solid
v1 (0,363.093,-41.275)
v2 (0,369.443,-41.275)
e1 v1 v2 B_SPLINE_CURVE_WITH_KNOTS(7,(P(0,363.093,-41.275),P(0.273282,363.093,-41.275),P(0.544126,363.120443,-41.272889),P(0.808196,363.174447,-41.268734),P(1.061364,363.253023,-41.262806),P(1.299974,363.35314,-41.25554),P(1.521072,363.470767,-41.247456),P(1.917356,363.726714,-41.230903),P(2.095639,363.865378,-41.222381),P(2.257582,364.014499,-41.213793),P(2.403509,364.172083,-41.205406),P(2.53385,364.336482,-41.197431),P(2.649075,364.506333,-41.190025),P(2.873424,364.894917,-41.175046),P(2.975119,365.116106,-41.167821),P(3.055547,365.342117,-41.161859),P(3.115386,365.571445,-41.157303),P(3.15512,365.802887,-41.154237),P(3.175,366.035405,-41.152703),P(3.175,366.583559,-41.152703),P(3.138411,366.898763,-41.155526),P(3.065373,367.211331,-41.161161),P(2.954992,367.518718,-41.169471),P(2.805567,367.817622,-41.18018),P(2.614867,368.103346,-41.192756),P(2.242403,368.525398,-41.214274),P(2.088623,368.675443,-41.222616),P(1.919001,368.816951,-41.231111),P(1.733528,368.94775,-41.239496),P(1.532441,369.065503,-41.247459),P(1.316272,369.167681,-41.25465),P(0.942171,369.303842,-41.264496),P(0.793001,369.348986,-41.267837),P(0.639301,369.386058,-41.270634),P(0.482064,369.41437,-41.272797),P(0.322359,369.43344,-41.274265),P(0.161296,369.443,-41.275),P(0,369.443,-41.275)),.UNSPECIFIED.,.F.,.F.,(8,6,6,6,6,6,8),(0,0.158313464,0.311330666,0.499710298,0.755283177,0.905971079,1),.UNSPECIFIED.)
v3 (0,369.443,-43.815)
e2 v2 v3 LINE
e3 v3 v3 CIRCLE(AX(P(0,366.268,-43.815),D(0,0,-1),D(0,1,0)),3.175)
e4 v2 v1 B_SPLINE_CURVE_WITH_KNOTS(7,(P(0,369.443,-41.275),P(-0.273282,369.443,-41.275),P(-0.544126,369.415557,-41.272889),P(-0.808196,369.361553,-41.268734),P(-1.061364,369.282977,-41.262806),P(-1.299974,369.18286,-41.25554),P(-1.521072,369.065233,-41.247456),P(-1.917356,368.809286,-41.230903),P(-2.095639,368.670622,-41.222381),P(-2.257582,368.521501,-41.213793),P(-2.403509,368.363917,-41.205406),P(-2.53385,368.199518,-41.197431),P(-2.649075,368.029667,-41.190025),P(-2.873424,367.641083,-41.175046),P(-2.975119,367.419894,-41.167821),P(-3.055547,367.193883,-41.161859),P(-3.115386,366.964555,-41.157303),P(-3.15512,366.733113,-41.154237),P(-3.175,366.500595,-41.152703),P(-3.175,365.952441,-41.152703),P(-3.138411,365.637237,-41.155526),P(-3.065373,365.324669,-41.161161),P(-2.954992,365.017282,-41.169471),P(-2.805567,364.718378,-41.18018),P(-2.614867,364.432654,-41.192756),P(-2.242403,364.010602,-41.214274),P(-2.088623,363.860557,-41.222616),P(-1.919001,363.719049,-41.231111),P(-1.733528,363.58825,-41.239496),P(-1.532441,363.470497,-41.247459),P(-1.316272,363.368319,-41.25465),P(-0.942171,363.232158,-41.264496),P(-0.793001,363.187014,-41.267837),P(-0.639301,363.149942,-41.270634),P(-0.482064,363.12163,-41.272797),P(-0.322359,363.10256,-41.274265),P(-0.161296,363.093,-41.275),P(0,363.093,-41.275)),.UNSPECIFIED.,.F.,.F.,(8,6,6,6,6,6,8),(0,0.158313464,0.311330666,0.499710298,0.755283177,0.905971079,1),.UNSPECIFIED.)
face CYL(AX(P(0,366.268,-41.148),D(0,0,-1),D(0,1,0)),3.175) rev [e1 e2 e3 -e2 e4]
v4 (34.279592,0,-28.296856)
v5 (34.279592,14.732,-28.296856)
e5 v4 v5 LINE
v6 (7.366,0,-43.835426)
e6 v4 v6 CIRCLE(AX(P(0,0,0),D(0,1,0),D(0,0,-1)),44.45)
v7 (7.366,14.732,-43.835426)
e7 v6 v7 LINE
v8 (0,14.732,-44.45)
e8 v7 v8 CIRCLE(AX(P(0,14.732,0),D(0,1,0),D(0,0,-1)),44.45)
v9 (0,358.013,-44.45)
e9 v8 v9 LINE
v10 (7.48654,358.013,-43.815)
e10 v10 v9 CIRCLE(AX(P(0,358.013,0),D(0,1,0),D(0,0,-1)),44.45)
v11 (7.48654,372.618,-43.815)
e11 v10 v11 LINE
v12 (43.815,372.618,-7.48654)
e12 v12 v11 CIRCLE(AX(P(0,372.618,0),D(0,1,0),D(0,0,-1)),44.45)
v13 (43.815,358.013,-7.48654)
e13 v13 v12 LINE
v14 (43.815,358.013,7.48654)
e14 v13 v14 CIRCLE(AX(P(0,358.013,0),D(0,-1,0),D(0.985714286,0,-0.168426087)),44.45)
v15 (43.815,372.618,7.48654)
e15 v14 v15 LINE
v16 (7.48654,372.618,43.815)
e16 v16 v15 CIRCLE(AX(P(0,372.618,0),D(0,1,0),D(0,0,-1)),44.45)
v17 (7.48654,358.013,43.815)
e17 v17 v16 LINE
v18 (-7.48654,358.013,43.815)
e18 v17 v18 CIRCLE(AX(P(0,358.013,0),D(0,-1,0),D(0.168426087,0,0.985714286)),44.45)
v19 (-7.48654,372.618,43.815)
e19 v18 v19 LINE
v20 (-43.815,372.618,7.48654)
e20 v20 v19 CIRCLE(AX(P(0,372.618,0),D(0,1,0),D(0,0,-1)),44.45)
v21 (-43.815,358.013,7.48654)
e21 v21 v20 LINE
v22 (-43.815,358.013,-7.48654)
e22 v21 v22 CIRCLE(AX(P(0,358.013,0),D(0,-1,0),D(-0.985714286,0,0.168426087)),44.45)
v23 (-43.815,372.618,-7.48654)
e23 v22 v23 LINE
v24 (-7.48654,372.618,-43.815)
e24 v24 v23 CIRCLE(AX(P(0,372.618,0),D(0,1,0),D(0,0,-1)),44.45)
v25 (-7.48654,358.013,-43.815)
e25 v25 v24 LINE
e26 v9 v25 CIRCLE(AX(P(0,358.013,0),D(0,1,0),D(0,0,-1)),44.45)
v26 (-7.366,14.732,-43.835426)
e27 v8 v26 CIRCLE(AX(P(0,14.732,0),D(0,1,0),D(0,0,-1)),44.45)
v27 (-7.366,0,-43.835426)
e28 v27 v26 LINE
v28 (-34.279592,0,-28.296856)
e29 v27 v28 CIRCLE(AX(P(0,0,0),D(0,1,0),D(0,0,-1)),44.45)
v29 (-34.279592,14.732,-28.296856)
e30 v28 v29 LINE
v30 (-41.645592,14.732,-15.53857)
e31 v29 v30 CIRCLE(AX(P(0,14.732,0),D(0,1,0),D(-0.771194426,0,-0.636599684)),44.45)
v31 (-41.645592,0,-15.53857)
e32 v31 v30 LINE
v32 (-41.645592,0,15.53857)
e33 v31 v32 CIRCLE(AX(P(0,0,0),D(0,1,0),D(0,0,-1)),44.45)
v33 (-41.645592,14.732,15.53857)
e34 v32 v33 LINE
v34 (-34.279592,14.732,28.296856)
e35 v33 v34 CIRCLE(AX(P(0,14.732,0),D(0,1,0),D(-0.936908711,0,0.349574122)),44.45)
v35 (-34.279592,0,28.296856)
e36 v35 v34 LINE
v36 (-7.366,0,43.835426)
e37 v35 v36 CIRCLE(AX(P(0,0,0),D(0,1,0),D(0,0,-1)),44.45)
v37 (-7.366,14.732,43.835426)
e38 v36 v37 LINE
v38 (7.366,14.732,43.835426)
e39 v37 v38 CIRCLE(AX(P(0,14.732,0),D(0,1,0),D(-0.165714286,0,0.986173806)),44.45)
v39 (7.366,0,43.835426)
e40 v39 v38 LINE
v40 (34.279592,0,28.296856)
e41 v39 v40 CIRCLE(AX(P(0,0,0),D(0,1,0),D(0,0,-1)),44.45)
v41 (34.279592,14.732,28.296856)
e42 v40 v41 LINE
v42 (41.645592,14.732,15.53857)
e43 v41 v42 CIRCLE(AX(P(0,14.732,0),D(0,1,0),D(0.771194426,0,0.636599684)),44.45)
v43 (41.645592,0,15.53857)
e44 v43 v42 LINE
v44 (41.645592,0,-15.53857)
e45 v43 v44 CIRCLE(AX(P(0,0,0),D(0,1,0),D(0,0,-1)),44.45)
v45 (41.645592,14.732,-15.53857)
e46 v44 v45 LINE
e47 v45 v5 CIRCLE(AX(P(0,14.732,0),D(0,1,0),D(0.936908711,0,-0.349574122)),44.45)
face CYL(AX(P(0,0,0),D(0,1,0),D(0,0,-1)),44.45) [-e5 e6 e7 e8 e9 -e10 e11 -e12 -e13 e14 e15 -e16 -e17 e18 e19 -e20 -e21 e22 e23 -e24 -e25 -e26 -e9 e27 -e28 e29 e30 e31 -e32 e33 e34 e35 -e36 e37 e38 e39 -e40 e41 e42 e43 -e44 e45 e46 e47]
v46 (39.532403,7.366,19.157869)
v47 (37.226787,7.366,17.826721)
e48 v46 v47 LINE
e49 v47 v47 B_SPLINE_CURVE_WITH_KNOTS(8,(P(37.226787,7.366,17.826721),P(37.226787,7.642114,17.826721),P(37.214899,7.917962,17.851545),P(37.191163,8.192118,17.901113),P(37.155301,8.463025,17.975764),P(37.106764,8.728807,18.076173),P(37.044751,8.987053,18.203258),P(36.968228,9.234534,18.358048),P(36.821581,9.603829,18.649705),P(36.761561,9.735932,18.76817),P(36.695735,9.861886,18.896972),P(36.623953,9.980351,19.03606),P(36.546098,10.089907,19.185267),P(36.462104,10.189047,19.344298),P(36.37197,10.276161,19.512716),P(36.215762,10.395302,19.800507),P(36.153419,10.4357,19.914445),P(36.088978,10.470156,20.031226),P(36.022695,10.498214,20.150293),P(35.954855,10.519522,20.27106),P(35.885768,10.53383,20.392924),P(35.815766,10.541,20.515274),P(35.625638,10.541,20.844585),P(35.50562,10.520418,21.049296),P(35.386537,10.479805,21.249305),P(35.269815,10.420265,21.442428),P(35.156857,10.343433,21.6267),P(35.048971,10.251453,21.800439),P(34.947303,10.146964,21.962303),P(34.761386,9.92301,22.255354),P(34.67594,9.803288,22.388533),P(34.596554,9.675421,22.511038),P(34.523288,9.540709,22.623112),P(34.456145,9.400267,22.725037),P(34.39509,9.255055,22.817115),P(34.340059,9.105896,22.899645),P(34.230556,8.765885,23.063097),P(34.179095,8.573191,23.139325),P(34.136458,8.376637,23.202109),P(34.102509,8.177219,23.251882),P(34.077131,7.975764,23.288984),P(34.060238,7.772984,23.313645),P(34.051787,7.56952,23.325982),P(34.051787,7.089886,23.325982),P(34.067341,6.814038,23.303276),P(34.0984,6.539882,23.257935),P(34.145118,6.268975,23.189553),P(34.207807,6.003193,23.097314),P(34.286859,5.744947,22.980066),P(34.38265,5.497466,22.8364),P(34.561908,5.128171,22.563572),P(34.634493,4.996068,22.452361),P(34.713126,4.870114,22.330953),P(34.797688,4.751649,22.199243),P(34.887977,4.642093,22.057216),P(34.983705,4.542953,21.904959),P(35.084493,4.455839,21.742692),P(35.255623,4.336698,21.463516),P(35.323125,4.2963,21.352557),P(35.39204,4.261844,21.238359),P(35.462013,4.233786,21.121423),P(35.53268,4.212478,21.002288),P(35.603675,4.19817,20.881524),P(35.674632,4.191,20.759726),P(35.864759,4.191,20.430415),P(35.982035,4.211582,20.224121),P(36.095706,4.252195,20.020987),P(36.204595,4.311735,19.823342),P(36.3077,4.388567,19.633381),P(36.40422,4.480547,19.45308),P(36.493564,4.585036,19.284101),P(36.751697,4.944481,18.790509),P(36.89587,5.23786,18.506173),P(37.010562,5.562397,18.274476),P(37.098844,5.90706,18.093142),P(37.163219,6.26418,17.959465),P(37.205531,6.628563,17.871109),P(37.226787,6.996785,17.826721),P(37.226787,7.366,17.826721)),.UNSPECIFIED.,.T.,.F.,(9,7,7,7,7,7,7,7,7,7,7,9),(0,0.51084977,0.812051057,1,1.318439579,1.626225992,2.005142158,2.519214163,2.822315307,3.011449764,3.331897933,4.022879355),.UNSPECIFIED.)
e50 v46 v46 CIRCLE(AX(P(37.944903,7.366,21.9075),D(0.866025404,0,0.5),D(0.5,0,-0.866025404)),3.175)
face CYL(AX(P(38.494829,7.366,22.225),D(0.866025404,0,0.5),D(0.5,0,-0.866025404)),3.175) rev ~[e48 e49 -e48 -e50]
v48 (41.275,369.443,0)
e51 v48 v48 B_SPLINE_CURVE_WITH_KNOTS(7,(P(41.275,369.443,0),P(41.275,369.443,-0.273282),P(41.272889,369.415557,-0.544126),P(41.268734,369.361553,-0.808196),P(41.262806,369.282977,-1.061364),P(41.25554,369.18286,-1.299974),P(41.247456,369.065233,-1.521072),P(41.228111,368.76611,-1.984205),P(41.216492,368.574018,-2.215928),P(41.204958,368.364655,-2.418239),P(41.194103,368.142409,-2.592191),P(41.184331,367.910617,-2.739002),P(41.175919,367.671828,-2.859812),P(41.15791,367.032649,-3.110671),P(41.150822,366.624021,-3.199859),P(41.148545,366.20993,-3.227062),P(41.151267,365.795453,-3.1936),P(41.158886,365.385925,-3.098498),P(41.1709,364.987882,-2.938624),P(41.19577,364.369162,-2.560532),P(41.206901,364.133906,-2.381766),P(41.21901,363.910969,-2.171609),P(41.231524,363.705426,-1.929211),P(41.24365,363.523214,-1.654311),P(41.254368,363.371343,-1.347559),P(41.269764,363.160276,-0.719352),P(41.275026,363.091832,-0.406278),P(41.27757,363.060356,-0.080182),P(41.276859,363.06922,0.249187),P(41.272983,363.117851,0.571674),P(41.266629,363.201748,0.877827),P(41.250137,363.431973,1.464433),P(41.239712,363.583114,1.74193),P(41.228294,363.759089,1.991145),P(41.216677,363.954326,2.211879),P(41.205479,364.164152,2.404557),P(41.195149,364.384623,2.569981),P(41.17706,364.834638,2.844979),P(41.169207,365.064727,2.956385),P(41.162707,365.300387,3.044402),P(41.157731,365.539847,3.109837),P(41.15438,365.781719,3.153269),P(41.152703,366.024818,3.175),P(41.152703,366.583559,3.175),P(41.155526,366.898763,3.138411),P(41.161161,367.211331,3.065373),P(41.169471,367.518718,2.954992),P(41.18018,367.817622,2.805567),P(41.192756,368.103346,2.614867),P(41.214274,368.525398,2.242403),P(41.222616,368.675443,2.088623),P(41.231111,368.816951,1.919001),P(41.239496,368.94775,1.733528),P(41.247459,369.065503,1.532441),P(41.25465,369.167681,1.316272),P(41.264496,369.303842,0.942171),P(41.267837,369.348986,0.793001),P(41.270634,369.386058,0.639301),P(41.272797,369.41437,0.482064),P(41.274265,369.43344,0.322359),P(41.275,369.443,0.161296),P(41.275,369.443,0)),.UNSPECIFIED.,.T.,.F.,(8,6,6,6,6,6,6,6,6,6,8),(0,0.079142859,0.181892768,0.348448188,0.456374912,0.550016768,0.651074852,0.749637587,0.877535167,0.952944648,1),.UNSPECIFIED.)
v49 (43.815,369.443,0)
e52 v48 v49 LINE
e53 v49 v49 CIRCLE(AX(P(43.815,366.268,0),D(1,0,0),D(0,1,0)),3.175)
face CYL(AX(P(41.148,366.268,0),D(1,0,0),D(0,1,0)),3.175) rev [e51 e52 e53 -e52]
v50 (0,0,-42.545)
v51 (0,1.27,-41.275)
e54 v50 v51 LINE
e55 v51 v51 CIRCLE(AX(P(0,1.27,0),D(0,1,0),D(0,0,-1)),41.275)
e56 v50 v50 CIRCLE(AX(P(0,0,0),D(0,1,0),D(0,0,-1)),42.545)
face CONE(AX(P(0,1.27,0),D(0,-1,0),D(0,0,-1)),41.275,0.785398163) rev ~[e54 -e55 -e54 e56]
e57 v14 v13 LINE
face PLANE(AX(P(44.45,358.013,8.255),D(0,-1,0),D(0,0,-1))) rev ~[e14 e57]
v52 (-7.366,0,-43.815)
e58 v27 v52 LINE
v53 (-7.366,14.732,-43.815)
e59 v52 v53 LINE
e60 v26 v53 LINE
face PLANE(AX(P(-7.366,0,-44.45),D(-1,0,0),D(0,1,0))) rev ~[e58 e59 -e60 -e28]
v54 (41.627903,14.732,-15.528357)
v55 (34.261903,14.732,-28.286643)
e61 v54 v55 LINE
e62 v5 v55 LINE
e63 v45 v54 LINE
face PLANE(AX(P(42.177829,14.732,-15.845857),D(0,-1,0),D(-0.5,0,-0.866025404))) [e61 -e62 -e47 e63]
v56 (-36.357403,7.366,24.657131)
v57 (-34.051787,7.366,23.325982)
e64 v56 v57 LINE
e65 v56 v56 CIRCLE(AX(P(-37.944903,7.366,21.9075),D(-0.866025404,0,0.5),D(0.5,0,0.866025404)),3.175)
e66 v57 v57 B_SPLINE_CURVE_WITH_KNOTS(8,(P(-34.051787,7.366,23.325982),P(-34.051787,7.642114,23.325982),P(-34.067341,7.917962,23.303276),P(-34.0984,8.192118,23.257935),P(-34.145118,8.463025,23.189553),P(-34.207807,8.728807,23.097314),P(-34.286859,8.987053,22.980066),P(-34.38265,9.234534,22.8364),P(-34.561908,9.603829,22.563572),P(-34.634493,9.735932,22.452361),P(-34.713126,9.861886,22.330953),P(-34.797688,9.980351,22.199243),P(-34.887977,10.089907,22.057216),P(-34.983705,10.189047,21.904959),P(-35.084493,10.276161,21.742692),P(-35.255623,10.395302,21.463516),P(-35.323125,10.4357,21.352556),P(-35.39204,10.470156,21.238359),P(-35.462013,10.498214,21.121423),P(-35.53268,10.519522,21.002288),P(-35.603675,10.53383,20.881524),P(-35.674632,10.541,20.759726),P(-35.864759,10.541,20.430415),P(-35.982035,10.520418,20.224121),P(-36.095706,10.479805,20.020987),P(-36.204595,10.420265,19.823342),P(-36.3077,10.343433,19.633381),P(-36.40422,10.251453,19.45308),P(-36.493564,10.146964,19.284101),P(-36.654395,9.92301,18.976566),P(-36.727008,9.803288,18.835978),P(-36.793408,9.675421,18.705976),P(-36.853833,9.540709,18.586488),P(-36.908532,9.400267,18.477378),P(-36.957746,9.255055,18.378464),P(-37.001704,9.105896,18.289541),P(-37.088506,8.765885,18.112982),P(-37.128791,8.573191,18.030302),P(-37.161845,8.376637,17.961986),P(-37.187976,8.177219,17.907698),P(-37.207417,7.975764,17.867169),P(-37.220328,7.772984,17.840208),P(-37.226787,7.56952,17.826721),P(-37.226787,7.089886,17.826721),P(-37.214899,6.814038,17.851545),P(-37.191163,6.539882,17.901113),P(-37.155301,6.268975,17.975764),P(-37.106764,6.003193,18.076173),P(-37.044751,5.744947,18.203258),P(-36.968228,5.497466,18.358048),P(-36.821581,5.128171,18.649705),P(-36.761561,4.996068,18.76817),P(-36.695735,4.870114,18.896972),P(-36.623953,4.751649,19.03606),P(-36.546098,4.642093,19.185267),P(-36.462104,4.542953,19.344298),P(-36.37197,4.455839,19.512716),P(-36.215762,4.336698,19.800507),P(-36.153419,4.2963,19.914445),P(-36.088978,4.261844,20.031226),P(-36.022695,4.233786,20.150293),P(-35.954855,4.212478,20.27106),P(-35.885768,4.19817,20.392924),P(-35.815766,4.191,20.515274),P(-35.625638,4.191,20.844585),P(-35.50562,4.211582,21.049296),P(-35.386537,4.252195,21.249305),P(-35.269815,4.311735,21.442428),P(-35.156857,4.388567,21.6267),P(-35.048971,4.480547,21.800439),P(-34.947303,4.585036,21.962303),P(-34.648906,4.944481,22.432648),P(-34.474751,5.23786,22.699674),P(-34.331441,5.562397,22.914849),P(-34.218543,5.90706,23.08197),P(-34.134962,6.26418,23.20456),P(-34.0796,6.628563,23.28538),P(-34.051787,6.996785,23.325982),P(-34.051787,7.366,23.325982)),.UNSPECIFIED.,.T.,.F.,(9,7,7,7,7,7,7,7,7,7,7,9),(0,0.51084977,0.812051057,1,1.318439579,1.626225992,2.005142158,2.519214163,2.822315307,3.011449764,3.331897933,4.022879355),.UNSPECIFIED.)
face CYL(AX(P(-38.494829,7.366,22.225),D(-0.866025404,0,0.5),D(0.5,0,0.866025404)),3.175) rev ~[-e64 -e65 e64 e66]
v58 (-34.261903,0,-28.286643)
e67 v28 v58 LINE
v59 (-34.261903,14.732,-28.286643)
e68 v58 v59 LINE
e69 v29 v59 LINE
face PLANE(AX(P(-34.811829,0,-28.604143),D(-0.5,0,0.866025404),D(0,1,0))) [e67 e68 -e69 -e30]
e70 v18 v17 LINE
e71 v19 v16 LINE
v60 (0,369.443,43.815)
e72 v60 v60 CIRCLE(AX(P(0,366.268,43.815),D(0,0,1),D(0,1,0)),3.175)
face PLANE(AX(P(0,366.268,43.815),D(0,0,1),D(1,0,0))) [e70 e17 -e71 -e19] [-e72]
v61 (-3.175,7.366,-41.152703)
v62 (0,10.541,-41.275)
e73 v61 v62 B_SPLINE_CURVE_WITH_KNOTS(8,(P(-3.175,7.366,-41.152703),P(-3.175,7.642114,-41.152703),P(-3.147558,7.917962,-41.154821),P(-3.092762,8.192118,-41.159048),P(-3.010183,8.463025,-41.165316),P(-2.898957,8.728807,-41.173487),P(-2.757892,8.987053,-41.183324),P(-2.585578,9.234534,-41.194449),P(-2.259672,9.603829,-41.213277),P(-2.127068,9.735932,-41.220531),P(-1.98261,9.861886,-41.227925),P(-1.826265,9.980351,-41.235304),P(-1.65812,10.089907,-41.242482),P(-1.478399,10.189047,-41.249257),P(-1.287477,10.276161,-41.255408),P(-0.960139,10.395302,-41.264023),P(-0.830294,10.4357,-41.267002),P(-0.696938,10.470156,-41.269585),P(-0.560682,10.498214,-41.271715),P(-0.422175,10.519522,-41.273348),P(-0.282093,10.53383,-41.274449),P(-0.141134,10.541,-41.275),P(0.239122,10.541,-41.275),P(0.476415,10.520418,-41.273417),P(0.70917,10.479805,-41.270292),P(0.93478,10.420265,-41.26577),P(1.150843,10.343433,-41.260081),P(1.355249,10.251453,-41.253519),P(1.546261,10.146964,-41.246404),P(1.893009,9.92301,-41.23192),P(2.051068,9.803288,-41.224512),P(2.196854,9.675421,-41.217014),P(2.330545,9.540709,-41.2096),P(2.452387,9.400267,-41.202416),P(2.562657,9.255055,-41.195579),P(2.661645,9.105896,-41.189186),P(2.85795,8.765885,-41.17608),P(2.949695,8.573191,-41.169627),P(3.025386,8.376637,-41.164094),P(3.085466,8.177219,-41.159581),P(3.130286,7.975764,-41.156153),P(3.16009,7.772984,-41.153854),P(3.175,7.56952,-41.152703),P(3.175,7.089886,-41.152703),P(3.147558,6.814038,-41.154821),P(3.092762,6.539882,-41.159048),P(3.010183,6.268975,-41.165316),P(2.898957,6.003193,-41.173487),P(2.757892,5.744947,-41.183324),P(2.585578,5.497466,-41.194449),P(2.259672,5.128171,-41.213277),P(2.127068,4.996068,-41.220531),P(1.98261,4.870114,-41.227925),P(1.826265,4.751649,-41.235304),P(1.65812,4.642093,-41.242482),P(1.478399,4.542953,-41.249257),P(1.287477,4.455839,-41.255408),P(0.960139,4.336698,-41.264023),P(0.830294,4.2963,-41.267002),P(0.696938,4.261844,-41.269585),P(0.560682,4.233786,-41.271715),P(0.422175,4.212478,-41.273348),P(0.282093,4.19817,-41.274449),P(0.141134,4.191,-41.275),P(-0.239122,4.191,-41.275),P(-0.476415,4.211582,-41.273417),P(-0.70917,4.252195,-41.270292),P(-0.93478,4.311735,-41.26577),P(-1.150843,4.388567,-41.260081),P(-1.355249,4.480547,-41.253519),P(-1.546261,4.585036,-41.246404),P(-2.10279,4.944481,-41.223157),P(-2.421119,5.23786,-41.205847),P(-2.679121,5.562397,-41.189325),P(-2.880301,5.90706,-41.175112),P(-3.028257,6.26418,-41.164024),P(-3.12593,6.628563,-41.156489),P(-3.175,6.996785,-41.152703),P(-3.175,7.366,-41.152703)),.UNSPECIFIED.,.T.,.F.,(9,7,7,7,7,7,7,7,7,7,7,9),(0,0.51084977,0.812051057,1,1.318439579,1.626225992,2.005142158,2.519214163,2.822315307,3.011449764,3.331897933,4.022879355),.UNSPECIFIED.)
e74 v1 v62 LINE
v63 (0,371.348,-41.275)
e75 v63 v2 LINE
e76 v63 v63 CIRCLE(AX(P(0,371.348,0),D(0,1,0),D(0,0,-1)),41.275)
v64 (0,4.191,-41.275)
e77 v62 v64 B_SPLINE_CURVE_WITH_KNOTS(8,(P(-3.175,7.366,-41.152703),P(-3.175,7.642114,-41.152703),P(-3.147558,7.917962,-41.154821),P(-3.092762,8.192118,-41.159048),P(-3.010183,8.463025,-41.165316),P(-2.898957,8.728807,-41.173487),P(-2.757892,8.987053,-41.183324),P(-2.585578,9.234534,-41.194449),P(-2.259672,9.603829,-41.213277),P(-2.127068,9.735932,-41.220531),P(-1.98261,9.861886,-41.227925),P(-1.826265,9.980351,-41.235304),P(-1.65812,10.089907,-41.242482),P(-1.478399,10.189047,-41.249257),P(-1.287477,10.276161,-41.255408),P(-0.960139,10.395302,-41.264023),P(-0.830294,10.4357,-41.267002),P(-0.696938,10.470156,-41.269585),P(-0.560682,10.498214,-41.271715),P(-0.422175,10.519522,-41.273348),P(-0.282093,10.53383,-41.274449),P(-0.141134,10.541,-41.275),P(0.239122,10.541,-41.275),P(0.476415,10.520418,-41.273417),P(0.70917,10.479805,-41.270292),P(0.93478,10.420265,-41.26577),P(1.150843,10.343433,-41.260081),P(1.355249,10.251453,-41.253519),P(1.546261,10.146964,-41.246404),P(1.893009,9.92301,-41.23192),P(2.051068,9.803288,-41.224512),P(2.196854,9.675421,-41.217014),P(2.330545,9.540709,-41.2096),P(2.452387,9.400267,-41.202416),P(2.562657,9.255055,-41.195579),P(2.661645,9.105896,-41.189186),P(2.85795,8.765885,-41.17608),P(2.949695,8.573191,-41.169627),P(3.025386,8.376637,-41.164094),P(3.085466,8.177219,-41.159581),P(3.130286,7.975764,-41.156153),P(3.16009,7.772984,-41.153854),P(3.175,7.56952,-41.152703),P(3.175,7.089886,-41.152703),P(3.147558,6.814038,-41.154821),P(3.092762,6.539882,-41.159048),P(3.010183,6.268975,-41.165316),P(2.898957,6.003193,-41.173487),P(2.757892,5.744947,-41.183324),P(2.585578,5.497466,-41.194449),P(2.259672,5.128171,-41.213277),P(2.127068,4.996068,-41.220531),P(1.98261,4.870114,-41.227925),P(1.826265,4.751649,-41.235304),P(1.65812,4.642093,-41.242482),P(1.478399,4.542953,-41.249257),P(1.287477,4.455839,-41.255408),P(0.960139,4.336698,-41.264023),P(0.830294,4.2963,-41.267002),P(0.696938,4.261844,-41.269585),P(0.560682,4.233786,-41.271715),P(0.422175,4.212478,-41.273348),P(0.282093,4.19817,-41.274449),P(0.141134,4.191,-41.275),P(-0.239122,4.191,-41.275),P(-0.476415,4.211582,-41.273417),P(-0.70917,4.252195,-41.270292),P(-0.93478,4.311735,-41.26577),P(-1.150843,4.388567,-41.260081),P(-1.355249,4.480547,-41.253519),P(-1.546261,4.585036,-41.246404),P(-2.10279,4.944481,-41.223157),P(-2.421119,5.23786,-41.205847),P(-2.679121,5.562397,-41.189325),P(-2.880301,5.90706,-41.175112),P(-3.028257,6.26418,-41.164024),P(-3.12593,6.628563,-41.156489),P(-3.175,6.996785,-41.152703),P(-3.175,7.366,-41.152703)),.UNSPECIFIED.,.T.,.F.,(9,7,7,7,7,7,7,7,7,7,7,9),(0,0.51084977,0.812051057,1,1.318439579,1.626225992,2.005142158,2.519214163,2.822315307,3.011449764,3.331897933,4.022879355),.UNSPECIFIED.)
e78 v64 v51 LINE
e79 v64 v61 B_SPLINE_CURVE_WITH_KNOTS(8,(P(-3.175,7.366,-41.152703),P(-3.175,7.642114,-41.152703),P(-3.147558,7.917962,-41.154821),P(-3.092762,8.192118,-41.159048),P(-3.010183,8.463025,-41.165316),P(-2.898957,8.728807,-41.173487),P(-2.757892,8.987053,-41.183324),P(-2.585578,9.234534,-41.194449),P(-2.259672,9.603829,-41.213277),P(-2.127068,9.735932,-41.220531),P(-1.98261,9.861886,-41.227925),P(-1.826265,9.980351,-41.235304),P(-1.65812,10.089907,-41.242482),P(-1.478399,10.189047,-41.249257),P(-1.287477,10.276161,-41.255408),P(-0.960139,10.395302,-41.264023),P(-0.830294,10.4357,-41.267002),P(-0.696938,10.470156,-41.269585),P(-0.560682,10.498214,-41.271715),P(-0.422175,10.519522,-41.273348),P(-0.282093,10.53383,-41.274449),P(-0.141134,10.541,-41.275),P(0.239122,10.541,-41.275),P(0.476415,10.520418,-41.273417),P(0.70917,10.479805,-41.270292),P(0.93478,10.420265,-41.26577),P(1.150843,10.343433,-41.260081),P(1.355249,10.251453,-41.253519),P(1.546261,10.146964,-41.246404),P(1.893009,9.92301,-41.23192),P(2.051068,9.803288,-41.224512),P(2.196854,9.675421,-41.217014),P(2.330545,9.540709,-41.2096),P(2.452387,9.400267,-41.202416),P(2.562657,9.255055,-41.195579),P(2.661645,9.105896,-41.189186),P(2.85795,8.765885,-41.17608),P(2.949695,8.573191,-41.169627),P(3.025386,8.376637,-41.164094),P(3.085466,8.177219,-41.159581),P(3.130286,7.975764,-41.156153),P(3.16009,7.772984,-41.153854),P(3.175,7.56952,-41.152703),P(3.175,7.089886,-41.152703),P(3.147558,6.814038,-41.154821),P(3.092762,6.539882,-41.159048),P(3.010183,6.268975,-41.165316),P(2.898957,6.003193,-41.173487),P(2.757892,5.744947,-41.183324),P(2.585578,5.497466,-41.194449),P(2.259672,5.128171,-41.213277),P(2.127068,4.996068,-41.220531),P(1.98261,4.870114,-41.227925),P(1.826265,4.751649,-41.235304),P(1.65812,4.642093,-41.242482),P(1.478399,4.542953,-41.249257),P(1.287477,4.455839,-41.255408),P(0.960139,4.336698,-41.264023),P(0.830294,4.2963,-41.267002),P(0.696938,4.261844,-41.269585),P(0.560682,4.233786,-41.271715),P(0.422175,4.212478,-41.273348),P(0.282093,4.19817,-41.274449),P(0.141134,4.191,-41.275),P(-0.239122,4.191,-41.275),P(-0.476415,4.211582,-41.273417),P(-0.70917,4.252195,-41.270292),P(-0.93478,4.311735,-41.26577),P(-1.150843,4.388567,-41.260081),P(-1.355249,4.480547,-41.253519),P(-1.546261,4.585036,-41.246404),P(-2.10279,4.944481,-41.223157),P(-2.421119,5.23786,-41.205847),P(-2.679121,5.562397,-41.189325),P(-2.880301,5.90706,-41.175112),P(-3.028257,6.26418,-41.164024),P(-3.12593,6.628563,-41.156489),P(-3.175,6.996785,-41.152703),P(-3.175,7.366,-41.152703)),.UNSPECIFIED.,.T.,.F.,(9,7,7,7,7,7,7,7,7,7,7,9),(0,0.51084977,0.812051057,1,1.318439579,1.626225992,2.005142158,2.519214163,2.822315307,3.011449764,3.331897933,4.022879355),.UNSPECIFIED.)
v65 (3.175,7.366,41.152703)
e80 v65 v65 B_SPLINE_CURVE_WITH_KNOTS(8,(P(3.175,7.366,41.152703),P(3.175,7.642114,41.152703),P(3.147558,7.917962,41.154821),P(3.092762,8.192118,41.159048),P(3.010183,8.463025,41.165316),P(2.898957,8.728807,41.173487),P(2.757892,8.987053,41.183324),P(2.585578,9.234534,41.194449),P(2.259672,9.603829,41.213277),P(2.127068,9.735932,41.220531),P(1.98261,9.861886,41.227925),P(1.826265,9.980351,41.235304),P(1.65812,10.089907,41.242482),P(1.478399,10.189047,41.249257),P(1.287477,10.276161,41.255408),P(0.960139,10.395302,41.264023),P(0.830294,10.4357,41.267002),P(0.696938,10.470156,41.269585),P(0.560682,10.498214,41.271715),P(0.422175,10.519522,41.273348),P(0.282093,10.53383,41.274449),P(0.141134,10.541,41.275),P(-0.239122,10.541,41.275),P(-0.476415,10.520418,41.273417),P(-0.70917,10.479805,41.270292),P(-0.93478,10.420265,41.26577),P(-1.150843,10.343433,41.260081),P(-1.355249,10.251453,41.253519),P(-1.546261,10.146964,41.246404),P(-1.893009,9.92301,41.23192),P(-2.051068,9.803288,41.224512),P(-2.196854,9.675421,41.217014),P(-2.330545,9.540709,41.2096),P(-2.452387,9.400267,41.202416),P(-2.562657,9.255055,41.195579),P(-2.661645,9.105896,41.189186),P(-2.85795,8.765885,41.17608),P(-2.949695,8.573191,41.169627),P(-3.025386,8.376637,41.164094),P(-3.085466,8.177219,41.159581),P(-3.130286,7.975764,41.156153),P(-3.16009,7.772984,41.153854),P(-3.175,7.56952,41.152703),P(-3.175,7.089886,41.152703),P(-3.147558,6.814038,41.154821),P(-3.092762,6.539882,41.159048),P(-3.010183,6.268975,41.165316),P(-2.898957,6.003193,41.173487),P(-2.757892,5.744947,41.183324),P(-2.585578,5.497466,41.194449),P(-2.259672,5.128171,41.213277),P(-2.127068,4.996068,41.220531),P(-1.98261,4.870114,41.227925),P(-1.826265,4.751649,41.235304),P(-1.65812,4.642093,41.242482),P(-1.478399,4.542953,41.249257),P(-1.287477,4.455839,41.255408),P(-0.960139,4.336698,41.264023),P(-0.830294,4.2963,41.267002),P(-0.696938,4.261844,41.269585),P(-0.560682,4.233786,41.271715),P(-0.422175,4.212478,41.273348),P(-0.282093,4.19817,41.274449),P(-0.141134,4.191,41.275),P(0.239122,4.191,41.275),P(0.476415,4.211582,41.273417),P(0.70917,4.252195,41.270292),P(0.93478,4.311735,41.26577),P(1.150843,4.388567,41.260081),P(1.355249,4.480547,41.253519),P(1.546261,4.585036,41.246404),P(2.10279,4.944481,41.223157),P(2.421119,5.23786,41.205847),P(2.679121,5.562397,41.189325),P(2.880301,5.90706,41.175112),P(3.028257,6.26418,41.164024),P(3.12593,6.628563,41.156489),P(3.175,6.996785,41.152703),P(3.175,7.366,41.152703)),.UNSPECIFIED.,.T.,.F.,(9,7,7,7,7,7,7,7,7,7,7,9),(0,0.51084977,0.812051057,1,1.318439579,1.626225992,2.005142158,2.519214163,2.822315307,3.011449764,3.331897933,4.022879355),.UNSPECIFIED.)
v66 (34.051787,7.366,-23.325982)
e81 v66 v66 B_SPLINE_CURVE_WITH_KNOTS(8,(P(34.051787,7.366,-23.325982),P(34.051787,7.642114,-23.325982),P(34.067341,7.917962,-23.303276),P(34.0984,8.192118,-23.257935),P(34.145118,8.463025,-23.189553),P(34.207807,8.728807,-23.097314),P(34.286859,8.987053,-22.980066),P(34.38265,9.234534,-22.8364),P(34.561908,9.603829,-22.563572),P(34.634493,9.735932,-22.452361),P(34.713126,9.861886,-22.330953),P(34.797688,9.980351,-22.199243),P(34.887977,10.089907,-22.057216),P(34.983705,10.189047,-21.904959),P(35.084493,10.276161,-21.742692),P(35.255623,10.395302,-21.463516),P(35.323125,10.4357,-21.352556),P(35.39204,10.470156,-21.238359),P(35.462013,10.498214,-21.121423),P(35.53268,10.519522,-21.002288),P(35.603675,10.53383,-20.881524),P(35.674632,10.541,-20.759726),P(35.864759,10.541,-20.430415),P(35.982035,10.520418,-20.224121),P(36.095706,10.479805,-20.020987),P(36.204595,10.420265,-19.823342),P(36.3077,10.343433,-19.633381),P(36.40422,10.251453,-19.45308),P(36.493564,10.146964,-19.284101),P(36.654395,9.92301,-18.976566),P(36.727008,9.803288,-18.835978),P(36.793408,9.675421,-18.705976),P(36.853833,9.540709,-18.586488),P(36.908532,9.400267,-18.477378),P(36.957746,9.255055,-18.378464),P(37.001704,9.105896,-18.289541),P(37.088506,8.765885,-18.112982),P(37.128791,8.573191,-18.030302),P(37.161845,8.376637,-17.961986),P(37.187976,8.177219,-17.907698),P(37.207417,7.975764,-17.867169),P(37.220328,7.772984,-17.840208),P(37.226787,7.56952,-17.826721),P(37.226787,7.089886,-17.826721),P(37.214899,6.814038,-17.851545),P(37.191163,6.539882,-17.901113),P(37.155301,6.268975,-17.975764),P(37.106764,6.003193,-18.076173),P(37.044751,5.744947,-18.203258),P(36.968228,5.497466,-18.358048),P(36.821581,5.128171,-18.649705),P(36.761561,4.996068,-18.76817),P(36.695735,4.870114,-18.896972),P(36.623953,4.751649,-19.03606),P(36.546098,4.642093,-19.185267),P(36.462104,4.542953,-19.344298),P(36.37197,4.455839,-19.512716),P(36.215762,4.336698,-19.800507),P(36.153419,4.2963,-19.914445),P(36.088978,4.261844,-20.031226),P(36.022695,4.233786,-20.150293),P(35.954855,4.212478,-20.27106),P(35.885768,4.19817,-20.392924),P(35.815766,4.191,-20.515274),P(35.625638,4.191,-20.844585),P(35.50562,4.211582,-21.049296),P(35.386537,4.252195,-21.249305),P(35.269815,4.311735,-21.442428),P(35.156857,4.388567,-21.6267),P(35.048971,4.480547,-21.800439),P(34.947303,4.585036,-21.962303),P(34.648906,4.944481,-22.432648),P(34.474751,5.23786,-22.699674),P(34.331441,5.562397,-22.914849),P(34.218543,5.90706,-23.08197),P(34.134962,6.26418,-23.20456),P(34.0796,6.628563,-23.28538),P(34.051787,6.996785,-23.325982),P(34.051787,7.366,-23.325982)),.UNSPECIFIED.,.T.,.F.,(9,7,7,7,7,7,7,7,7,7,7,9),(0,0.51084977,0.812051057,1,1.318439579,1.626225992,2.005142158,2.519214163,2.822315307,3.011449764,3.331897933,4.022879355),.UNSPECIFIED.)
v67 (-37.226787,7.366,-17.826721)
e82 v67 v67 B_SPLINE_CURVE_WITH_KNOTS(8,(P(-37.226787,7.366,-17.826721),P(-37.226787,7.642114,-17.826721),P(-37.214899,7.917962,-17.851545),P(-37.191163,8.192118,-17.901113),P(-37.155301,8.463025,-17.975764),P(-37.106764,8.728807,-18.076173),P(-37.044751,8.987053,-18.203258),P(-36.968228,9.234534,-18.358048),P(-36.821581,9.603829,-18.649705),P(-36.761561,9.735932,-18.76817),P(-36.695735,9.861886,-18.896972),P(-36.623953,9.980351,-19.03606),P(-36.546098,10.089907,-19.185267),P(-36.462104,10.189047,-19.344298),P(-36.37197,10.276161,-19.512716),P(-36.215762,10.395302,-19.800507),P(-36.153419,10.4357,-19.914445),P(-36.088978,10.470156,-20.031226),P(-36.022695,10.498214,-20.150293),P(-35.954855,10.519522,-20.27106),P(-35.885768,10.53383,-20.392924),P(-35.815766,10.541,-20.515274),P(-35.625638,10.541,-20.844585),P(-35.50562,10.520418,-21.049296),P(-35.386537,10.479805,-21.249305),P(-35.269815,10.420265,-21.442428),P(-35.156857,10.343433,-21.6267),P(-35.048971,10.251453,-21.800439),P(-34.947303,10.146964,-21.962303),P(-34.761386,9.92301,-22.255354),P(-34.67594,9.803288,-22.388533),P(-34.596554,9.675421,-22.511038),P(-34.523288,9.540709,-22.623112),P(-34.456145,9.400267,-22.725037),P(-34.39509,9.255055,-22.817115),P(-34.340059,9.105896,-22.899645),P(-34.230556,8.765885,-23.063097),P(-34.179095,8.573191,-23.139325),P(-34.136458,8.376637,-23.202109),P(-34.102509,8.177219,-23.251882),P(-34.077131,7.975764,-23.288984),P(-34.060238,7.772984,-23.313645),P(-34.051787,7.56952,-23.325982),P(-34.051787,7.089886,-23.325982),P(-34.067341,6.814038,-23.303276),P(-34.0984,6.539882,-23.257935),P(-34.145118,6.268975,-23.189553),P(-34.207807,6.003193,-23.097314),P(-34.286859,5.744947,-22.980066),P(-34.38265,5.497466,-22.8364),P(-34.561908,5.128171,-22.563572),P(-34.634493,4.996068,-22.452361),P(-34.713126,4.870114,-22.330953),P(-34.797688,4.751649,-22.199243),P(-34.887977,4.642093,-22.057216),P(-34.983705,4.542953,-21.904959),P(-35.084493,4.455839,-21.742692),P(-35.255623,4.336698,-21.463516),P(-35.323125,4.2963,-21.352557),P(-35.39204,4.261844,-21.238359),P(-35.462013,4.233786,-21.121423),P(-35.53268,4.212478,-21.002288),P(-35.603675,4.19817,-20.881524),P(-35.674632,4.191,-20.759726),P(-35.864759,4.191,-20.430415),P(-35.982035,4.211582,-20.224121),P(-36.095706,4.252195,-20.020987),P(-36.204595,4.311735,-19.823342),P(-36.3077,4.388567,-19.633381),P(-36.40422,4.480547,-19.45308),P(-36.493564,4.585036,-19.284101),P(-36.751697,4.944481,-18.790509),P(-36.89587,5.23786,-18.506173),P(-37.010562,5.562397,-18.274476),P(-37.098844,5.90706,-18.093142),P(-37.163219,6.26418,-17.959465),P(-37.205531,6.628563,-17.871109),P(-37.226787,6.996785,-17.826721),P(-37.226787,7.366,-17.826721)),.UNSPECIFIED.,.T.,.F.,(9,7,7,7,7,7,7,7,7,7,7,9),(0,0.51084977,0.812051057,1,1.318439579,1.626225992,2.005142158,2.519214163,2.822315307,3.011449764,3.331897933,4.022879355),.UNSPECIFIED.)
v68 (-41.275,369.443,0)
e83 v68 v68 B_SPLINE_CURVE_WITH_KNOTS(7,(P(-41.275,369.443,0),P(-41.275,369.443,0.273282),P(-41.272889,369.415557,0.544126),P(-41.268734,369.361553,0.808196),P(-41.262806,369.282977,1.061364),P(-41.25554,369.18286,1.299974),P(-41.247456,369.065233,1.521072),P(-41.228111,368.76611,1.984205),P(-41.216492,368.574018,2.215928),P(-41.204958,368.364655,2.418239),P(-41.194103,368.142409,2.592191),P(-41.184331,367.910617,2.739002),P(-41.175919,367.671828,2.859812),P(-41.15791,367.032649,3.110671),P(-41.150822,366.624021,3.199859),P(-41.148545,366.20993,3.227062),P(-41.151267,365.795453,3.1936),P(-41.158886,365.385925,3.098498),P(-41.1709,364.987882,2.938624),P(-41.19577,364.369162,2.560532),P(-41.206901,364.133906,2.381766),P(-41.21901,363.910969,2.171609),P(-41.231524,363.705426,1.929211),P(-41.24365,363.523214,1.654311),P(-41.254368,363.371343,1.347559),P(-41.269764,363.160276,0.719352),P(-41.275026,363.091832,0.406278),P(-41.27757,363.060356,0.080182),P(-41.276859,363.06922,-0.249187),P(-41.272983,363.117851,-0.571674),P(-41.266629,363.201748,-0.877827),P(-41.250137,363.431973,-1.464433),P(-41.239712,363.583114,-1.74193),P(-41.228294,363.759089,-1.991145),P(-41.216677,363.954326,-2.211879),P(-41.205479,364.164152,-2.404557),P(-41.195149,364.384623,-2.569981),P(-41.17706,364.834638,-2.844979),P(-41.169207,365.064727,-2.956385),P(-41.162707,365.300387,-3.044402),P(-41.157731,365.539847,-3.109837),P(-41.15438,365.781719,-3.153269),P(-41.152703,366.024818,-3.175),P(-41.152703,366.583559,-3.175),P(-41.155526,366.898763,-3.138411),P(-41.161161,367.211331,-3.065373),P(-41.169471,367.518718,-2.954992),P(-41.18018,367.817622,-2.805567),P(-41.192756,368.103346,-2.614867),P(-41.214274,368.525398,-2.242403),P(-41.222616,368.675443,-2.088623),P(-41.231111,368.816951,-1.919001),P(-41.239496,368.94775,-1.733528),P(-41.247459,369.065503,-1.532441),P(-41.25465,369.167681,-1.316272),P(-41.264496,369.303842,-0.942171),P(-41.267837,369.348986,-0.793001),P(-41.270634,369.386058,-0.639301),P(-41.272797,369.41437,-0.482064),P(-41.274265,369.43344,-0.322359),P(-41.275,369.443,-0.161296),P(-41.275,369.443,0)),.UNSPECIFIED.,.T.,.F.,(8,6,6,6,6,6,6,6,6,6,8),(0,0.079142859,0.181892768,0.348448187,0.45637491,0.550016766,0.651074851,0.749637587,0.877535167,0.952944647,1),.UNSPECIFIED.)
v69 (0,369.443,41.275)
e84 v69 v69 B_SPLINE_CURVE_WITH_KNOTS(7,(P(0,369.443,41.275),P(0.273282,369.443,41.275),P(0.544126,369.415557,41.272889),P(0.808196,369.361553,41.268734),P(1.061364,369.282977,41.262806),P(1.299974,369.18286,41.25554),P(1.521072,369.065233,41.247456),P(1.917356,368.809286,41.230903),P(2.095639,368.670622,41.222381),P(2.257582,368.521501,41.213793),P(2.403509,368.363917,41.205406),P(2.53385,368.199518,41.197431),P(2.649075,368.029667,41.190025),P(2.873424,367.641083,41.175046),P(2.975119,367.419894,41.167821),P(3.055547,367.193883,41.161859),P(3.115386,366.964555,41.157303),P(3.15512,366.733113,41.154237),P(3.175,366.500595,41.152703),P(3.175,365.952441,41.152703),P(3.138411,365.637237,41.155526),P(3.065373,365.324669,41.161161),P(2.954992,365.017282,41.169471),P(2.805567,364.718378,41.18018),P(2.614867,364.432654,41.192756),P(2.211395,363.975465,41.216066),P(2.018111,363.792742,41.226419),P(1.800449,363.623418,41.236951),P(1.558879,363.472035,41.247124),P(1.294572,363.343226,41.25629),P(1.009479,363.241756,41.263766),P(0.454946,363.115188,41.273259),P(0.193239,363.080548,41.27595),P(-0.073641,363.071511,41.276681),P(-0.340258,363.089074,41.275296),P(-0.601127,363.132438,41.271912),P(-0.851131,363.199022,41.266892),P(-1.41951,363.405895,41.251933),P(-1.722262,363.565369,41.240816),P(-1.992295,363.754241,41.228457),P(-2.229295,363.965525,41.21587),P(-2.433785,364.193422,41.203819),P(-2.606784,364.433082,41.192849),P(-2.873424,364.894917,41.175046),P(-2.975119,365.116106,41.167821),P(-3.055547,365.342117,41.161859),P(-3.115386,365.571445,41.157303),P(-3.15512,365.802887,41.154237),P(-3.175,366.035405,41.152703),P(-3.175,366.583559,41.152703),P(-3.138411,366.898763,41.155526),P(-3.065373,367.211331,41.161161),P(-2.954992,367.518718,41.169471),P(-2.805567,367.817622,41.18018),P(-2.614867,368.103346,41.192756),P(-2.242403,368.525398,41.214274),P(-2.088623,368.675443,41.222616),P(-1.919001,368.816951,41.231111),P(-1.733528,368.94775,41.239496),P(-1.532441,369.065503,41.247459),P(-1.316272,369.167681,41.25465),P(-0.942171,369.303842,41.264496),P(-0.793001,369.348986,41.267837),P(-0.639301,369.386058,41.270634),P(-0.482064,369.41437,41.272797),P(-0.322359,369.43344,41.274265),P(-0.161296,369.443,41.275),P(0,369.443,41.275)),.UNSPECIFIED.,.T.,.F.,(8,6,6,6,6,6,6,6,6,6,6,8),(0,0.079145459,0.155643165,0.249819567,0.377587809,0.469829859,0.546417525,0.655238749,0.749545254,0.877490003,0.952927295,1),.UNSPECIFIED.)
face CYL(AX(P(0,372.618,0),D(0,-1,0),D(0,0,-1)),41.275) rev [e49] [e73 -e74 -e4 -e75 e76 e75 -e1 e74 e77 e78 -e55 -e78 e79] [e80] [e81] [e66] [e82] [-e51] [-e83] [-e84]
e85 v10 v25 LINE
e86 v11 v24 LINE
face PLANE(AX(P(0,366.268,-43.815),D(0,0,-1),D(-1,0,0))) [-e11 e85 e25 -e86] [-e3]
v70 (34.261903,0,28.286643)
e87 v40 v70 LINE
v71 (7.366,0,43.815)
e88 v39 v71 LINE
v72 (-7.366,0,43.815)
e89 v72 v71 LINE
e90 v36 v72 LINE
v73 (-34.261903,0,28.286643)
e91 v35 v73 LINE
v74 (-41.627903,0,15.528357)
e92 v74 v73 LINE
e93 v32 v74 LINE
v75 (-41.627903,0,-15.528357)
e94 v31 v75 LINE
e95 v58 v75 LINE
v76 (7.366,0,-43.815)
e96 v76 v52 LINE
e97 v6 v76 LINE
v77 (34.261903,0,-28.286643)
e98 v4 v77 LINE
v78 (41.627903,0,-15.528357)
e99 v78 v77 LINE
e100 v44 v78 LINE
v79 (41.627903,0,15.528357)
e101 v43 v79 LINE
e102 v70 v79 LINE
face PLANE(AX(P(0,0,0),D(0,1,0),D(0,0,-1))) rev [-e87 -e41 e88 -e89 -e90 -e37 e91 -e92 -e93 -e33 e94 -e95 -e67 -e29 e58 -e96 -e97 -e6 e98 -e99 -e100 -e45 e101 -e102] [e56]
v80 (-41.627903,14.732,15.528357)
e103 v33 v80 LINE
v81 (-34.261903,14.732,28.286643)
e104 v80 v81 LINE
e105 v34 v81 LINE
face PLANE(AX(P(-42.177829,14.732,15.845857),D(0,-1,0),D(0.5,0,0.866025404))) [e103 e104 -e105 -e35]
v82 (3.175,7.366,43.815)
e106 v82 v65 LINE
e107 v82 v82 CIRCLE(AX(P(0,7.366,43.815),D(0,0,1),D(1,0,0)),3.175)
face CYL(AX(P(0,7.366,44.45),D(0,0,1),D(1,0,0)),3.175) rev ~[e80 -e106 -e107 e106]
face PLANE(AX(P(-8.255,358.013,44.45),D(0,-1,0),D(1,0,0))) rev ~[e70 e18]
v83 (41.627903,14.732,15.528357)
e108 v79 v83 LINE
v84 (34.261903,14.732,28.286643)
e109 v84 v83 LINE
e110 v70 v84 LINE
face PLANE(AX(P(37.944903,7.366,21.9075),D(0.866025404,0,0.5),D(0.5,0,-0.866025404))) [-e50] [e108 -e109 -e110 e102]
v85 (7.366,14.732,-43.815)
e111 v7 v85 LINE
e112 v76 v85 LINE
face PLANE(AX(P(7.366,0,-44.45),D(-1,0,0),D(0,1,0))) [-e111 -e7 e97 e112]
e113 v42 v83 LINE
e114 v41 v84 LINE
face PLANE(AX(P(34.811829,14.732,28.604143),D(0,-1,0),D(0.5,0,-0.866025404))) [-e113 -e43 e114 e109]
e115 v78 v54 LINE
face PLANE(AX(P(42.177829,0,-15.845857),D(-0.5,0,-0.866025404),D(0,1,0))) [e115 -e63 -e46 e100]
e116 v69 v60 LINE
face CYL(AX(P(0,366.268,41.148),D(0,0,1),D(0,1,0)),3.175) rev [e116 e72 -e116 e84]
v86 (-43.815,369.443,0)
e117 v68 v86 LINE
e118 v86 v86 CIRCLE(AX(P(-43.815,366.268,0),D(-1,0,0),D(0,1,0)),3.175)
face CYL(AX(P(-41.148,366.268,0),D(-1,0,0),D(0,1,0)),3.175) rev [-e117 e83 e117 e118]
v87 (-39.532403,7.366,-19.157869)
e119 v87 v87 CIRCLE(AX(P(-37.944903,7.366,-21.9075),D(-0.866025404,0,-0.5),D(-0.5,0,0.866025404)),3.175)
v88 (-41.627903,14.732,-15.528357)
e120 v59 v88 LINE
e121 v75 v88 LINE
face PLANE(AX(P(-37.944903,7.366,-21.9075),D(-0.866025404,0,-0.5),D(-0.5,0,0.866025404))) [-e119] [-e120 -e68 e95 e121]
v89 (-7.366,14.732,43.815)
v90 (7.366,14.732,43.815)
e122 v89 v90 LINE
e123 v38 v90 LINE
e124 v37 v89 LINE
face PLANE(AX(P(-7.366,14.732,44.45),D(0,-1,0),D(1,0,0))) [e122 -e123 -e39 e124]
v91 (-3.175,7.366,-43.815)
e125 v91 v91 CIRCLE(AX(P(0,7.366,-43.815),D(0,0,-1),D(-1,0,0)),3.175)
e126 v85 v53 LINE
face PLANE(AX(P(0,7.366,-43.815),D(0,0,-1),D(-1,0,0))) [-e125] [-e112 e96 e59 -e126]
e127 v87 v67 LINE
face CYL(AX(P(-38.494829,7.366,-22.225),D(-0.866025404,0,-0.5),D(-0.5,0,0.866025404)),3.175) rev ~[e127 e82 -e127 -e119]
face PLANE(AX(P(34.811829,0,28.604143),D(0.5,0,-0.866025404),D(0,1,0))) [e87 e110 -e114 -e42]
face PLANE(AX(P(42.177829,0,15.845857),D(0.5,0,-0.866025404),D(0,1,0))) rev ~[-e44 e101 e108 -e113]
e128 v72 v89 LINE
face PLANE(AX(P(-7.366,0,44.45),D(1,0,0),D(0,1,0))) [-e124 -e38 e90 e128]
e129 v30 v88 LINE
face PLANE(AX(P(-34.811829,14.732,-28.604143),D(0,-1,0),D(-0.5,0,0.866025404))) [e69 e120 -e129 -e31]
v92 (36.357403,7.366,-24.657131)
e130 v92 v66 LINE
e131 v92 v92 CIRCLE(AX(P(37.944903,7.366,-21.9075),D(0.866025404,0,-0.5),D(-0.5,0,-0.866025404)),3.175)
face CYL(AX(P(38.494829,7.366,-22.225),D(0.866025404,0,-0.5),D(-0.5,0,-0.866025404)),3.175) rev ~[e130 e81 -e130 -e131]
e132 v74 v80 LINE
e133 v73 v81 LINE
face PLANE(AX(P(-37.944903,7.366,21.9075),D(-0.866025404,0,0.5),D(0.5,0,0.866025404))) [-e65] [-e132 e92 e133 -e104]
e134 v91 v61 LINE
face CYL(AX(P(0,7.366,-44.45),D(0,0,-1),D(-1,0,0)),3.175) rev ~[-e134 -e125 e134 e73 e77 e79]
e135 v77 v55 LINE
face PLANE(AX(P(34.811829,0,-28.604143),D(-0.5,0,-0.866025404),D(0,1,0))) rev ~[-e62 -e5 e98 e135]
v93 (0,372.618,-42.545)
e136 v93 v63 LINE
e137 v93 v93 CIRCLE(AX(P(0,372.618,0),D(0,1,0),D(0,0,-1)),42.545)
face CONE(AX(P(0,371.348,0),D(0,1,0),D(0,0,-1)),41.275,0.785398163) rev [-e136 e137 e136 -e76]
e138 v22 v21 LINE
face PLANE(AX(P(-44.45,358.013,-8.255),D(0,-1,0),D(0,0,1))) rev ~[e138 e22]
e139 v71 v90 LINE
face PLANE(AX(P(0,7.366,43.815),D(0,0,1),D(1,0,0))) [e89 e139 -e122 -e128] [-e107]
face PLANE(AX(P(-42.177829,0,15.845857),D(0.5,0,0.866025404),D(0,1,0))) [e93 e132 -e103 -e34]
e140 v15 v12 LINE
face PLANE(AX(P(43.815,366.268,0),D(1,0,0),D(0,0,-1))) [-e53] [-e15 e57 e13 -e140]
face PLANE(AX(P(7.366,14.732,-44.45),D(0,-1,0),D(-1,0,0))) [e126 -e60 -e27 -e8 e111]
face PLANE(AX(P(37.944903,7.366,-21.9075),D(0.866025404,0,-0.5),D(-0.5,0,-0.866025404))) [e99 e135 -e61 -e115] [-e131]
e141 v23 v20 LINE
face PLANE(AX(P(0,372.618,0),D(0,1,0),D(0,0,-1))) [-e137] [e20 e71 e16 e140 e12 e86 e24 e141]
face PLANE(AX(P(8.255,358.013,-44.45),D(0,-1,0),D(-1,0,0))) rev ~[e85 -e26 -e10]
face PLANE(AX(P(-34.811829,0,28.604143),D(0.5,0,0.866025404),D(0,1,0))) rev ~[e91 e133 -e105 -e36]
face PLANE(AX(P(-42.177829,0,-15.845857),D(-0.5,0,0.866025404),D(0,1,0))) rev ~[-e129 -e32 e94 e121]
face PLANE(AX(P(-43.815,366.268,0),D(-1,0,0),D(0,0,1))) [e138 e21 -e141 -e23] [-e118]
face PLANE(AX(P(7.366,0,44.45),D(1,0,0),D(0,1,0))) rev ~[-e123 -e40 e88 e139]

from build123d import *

# Parameters (mm, degrees)
F_1_4_0_25_DIAMETER_HOLE1_REACH  = 380.534
F_1_4_0_25_DIAMETER_HOLE1_BORE_R = 3.175
CIRPATTERN2_COUNT                = 4
CHAMFER1_SIZE                    = 1.27
CIRPATTERN1_COUNT                = 6
SKETCH7_W                        = 14.732
SKETCH7_H                        = 14.732
CUT_EXTRUDE1_DEPTH               = 0.635
SKETCH8_W                        = 16.51
SKETCH8_H                        = 16.51
CUT_EXTRUDE2_DEPTH               = 0.635
CIRPATTERN4_COUNT                = 6
CIRPATTERN5_COUNT                = 4


with BuildPart() as part:
    # Sketch2 → Revolve1 (revolve)
    with BuildSketch(Plane.XY, mode=Mode.PRIVATE) as revolve1_sk:
        Polygon((41.275, 0), (44.45, 0), (44.45, 372.618), (41.275, 372.618), (41.275, 186.309), align=None)
    revolve(revolve1_sk.sketch.rotate(Axis((0, 0, 0), (0, 1, 0)), 90), axis=Axis((0, 0, 0), (0, 1, 0)))

    # 1/4 (0.25) Diameter Hole1 bore (on position points) → 1/4 (0.25) Diameter Hole1 (cut, up to next)
    with BuildSketch(Plane(origin=(0, 7.366, -44.45), x_dir=(-1, 0, 0), z_dir=(0, 0, -1)), mode=Mode.PRIVATE) as f_1_4_0_25_diameter_hole1_sk1:
        Circle(F_1_4_0_25_DIAMETER_HOLE1_BORE_R)
    f_1_4_0_25_diameter_hole1_tool1 = extrude(f_1_4_0_25_diameter_hole1_sk1.sketch, amount=-F_1_4_0_25_DIAMETER_HOLE1_REACH, mode=Mode.PRIVATE) & part.part
    f_1_4_0_25_diameter_hole1 = f_1_4_0_25_diameter_hole1_tool1.solids().sort_by_distance((0, 7.366, -44.45))[0]
    add(f_1_4_0_25_diameter_hole1, mode=Mode.SUBTRACT)

    # Sketch6 → 1/4 (0.25) Diameter Hole2 (revolve, cut)
    with BuildSketch(Plane(origin=(0, 366.268, -44.45), x_dir=(0, 1, 0), z_dir=(1, 0, 0))):
        Polygon((0, 0), (0, 5.209732465), (3.175, 3.302), (3.175, 0), align=None)
    f_1_4_0_25_diameter_hole2 = revolve(axis=Axis((0, 366.268, -50.8), (0, 0, 1)), mode=Mode.SUBTRACT)

    # CirPattern2: 1/4 (0.25) Diameter Hole2 ×4 about axis
    cirpattern2_axis = Axis((0, -17.04721, 0), (0, 1, 0))
    for i in range(1, CIRPATTERN2_COUNT):
        add(f_1_4_0_25_diameter_hole2.rotate(cirpattern2_axis, i * 360 / CIRPATTERN2_COUNT), mode=Mode.SUBTRACT)

    # Chamfer1
    chamfer1_edges = [part.edges().sort_by_distance(p)[0] for p in [
        (0, 372.618, 41.275),
        (0, 0, 41.275),
    ]]
    chamfer(chamfer1_edges, length=CHAMFER1_SIZE)

    # CirPattern1: 1/4 (0.25) Diameter Hole1 ×6 about axis
    cirpattern1_axis = Axis((0, -17.04721, 0), (0, 1, 0))
    for i in range(1, CIRPATTERN1_COUNT):
        add(f_1_4_0_25_diameter_hole1.rotate(cirpattern1_axis, i * 360 / CIRPATTERN1_COUNT), mode=Mode.SUBTRACT)

    # Sketch7 → Cut-Extrude1 (cut)
    with BuildSketch(Plane(origin=(0, 0, -44.45), x_dir=(-1, 0, 0), z_dir=(0, 0, -1))):
        with Locations((0, 7.366)):
            Rectangle(SKETCH7_W, SKETCH7_H)
    cut_extrude1 = extrude(amount=-CUT_EXTRUDE1_DEPTH, mode=Mode.SUBTRACT)

    # Sketch8 → Cut-Extrude2 (cut)
    with BuildSketch(Plane(origin=(0, 0, -44.45), x_dir=(-1, 0, 0), z_dir=(0, 0, -1))):
        with Locations((0, 366.268)):
            Rectangle(SKETCH8_W, SKETCH8_H)
    cut_extrude2 = extrude(amount=-CUT_EXTRUDE2_DEPTH, mode=Mode.SUBTRACT)

    # CirPattern4: Cut-Extrude1 ×6 about axis
    cirpattern4_axis = Axis((0, 0, 0), (0, 1, 0))
    for i in range(1, CIRPATTERN4_COUNT):
        add(cut_extrude1.rotate(cirpattern4_axis, i * 360 / CIRPATTERN4_COUNT), mode=Mode.SUBTRACT)

    # CirPattern5: Cut-Extrude2 ×4 about axis
    cirpattern5_axis = Axis((0, 0, 0), (0, 1, 0))
    for i in range(1, CIRPATTERN5_COUNT):
        add(cut_extrude2.rotate(cirpattern5_axis, i * 360 / CIRPATTERN5_COUNT), mode=Mode.SUBTRACT)


solid = part.part
